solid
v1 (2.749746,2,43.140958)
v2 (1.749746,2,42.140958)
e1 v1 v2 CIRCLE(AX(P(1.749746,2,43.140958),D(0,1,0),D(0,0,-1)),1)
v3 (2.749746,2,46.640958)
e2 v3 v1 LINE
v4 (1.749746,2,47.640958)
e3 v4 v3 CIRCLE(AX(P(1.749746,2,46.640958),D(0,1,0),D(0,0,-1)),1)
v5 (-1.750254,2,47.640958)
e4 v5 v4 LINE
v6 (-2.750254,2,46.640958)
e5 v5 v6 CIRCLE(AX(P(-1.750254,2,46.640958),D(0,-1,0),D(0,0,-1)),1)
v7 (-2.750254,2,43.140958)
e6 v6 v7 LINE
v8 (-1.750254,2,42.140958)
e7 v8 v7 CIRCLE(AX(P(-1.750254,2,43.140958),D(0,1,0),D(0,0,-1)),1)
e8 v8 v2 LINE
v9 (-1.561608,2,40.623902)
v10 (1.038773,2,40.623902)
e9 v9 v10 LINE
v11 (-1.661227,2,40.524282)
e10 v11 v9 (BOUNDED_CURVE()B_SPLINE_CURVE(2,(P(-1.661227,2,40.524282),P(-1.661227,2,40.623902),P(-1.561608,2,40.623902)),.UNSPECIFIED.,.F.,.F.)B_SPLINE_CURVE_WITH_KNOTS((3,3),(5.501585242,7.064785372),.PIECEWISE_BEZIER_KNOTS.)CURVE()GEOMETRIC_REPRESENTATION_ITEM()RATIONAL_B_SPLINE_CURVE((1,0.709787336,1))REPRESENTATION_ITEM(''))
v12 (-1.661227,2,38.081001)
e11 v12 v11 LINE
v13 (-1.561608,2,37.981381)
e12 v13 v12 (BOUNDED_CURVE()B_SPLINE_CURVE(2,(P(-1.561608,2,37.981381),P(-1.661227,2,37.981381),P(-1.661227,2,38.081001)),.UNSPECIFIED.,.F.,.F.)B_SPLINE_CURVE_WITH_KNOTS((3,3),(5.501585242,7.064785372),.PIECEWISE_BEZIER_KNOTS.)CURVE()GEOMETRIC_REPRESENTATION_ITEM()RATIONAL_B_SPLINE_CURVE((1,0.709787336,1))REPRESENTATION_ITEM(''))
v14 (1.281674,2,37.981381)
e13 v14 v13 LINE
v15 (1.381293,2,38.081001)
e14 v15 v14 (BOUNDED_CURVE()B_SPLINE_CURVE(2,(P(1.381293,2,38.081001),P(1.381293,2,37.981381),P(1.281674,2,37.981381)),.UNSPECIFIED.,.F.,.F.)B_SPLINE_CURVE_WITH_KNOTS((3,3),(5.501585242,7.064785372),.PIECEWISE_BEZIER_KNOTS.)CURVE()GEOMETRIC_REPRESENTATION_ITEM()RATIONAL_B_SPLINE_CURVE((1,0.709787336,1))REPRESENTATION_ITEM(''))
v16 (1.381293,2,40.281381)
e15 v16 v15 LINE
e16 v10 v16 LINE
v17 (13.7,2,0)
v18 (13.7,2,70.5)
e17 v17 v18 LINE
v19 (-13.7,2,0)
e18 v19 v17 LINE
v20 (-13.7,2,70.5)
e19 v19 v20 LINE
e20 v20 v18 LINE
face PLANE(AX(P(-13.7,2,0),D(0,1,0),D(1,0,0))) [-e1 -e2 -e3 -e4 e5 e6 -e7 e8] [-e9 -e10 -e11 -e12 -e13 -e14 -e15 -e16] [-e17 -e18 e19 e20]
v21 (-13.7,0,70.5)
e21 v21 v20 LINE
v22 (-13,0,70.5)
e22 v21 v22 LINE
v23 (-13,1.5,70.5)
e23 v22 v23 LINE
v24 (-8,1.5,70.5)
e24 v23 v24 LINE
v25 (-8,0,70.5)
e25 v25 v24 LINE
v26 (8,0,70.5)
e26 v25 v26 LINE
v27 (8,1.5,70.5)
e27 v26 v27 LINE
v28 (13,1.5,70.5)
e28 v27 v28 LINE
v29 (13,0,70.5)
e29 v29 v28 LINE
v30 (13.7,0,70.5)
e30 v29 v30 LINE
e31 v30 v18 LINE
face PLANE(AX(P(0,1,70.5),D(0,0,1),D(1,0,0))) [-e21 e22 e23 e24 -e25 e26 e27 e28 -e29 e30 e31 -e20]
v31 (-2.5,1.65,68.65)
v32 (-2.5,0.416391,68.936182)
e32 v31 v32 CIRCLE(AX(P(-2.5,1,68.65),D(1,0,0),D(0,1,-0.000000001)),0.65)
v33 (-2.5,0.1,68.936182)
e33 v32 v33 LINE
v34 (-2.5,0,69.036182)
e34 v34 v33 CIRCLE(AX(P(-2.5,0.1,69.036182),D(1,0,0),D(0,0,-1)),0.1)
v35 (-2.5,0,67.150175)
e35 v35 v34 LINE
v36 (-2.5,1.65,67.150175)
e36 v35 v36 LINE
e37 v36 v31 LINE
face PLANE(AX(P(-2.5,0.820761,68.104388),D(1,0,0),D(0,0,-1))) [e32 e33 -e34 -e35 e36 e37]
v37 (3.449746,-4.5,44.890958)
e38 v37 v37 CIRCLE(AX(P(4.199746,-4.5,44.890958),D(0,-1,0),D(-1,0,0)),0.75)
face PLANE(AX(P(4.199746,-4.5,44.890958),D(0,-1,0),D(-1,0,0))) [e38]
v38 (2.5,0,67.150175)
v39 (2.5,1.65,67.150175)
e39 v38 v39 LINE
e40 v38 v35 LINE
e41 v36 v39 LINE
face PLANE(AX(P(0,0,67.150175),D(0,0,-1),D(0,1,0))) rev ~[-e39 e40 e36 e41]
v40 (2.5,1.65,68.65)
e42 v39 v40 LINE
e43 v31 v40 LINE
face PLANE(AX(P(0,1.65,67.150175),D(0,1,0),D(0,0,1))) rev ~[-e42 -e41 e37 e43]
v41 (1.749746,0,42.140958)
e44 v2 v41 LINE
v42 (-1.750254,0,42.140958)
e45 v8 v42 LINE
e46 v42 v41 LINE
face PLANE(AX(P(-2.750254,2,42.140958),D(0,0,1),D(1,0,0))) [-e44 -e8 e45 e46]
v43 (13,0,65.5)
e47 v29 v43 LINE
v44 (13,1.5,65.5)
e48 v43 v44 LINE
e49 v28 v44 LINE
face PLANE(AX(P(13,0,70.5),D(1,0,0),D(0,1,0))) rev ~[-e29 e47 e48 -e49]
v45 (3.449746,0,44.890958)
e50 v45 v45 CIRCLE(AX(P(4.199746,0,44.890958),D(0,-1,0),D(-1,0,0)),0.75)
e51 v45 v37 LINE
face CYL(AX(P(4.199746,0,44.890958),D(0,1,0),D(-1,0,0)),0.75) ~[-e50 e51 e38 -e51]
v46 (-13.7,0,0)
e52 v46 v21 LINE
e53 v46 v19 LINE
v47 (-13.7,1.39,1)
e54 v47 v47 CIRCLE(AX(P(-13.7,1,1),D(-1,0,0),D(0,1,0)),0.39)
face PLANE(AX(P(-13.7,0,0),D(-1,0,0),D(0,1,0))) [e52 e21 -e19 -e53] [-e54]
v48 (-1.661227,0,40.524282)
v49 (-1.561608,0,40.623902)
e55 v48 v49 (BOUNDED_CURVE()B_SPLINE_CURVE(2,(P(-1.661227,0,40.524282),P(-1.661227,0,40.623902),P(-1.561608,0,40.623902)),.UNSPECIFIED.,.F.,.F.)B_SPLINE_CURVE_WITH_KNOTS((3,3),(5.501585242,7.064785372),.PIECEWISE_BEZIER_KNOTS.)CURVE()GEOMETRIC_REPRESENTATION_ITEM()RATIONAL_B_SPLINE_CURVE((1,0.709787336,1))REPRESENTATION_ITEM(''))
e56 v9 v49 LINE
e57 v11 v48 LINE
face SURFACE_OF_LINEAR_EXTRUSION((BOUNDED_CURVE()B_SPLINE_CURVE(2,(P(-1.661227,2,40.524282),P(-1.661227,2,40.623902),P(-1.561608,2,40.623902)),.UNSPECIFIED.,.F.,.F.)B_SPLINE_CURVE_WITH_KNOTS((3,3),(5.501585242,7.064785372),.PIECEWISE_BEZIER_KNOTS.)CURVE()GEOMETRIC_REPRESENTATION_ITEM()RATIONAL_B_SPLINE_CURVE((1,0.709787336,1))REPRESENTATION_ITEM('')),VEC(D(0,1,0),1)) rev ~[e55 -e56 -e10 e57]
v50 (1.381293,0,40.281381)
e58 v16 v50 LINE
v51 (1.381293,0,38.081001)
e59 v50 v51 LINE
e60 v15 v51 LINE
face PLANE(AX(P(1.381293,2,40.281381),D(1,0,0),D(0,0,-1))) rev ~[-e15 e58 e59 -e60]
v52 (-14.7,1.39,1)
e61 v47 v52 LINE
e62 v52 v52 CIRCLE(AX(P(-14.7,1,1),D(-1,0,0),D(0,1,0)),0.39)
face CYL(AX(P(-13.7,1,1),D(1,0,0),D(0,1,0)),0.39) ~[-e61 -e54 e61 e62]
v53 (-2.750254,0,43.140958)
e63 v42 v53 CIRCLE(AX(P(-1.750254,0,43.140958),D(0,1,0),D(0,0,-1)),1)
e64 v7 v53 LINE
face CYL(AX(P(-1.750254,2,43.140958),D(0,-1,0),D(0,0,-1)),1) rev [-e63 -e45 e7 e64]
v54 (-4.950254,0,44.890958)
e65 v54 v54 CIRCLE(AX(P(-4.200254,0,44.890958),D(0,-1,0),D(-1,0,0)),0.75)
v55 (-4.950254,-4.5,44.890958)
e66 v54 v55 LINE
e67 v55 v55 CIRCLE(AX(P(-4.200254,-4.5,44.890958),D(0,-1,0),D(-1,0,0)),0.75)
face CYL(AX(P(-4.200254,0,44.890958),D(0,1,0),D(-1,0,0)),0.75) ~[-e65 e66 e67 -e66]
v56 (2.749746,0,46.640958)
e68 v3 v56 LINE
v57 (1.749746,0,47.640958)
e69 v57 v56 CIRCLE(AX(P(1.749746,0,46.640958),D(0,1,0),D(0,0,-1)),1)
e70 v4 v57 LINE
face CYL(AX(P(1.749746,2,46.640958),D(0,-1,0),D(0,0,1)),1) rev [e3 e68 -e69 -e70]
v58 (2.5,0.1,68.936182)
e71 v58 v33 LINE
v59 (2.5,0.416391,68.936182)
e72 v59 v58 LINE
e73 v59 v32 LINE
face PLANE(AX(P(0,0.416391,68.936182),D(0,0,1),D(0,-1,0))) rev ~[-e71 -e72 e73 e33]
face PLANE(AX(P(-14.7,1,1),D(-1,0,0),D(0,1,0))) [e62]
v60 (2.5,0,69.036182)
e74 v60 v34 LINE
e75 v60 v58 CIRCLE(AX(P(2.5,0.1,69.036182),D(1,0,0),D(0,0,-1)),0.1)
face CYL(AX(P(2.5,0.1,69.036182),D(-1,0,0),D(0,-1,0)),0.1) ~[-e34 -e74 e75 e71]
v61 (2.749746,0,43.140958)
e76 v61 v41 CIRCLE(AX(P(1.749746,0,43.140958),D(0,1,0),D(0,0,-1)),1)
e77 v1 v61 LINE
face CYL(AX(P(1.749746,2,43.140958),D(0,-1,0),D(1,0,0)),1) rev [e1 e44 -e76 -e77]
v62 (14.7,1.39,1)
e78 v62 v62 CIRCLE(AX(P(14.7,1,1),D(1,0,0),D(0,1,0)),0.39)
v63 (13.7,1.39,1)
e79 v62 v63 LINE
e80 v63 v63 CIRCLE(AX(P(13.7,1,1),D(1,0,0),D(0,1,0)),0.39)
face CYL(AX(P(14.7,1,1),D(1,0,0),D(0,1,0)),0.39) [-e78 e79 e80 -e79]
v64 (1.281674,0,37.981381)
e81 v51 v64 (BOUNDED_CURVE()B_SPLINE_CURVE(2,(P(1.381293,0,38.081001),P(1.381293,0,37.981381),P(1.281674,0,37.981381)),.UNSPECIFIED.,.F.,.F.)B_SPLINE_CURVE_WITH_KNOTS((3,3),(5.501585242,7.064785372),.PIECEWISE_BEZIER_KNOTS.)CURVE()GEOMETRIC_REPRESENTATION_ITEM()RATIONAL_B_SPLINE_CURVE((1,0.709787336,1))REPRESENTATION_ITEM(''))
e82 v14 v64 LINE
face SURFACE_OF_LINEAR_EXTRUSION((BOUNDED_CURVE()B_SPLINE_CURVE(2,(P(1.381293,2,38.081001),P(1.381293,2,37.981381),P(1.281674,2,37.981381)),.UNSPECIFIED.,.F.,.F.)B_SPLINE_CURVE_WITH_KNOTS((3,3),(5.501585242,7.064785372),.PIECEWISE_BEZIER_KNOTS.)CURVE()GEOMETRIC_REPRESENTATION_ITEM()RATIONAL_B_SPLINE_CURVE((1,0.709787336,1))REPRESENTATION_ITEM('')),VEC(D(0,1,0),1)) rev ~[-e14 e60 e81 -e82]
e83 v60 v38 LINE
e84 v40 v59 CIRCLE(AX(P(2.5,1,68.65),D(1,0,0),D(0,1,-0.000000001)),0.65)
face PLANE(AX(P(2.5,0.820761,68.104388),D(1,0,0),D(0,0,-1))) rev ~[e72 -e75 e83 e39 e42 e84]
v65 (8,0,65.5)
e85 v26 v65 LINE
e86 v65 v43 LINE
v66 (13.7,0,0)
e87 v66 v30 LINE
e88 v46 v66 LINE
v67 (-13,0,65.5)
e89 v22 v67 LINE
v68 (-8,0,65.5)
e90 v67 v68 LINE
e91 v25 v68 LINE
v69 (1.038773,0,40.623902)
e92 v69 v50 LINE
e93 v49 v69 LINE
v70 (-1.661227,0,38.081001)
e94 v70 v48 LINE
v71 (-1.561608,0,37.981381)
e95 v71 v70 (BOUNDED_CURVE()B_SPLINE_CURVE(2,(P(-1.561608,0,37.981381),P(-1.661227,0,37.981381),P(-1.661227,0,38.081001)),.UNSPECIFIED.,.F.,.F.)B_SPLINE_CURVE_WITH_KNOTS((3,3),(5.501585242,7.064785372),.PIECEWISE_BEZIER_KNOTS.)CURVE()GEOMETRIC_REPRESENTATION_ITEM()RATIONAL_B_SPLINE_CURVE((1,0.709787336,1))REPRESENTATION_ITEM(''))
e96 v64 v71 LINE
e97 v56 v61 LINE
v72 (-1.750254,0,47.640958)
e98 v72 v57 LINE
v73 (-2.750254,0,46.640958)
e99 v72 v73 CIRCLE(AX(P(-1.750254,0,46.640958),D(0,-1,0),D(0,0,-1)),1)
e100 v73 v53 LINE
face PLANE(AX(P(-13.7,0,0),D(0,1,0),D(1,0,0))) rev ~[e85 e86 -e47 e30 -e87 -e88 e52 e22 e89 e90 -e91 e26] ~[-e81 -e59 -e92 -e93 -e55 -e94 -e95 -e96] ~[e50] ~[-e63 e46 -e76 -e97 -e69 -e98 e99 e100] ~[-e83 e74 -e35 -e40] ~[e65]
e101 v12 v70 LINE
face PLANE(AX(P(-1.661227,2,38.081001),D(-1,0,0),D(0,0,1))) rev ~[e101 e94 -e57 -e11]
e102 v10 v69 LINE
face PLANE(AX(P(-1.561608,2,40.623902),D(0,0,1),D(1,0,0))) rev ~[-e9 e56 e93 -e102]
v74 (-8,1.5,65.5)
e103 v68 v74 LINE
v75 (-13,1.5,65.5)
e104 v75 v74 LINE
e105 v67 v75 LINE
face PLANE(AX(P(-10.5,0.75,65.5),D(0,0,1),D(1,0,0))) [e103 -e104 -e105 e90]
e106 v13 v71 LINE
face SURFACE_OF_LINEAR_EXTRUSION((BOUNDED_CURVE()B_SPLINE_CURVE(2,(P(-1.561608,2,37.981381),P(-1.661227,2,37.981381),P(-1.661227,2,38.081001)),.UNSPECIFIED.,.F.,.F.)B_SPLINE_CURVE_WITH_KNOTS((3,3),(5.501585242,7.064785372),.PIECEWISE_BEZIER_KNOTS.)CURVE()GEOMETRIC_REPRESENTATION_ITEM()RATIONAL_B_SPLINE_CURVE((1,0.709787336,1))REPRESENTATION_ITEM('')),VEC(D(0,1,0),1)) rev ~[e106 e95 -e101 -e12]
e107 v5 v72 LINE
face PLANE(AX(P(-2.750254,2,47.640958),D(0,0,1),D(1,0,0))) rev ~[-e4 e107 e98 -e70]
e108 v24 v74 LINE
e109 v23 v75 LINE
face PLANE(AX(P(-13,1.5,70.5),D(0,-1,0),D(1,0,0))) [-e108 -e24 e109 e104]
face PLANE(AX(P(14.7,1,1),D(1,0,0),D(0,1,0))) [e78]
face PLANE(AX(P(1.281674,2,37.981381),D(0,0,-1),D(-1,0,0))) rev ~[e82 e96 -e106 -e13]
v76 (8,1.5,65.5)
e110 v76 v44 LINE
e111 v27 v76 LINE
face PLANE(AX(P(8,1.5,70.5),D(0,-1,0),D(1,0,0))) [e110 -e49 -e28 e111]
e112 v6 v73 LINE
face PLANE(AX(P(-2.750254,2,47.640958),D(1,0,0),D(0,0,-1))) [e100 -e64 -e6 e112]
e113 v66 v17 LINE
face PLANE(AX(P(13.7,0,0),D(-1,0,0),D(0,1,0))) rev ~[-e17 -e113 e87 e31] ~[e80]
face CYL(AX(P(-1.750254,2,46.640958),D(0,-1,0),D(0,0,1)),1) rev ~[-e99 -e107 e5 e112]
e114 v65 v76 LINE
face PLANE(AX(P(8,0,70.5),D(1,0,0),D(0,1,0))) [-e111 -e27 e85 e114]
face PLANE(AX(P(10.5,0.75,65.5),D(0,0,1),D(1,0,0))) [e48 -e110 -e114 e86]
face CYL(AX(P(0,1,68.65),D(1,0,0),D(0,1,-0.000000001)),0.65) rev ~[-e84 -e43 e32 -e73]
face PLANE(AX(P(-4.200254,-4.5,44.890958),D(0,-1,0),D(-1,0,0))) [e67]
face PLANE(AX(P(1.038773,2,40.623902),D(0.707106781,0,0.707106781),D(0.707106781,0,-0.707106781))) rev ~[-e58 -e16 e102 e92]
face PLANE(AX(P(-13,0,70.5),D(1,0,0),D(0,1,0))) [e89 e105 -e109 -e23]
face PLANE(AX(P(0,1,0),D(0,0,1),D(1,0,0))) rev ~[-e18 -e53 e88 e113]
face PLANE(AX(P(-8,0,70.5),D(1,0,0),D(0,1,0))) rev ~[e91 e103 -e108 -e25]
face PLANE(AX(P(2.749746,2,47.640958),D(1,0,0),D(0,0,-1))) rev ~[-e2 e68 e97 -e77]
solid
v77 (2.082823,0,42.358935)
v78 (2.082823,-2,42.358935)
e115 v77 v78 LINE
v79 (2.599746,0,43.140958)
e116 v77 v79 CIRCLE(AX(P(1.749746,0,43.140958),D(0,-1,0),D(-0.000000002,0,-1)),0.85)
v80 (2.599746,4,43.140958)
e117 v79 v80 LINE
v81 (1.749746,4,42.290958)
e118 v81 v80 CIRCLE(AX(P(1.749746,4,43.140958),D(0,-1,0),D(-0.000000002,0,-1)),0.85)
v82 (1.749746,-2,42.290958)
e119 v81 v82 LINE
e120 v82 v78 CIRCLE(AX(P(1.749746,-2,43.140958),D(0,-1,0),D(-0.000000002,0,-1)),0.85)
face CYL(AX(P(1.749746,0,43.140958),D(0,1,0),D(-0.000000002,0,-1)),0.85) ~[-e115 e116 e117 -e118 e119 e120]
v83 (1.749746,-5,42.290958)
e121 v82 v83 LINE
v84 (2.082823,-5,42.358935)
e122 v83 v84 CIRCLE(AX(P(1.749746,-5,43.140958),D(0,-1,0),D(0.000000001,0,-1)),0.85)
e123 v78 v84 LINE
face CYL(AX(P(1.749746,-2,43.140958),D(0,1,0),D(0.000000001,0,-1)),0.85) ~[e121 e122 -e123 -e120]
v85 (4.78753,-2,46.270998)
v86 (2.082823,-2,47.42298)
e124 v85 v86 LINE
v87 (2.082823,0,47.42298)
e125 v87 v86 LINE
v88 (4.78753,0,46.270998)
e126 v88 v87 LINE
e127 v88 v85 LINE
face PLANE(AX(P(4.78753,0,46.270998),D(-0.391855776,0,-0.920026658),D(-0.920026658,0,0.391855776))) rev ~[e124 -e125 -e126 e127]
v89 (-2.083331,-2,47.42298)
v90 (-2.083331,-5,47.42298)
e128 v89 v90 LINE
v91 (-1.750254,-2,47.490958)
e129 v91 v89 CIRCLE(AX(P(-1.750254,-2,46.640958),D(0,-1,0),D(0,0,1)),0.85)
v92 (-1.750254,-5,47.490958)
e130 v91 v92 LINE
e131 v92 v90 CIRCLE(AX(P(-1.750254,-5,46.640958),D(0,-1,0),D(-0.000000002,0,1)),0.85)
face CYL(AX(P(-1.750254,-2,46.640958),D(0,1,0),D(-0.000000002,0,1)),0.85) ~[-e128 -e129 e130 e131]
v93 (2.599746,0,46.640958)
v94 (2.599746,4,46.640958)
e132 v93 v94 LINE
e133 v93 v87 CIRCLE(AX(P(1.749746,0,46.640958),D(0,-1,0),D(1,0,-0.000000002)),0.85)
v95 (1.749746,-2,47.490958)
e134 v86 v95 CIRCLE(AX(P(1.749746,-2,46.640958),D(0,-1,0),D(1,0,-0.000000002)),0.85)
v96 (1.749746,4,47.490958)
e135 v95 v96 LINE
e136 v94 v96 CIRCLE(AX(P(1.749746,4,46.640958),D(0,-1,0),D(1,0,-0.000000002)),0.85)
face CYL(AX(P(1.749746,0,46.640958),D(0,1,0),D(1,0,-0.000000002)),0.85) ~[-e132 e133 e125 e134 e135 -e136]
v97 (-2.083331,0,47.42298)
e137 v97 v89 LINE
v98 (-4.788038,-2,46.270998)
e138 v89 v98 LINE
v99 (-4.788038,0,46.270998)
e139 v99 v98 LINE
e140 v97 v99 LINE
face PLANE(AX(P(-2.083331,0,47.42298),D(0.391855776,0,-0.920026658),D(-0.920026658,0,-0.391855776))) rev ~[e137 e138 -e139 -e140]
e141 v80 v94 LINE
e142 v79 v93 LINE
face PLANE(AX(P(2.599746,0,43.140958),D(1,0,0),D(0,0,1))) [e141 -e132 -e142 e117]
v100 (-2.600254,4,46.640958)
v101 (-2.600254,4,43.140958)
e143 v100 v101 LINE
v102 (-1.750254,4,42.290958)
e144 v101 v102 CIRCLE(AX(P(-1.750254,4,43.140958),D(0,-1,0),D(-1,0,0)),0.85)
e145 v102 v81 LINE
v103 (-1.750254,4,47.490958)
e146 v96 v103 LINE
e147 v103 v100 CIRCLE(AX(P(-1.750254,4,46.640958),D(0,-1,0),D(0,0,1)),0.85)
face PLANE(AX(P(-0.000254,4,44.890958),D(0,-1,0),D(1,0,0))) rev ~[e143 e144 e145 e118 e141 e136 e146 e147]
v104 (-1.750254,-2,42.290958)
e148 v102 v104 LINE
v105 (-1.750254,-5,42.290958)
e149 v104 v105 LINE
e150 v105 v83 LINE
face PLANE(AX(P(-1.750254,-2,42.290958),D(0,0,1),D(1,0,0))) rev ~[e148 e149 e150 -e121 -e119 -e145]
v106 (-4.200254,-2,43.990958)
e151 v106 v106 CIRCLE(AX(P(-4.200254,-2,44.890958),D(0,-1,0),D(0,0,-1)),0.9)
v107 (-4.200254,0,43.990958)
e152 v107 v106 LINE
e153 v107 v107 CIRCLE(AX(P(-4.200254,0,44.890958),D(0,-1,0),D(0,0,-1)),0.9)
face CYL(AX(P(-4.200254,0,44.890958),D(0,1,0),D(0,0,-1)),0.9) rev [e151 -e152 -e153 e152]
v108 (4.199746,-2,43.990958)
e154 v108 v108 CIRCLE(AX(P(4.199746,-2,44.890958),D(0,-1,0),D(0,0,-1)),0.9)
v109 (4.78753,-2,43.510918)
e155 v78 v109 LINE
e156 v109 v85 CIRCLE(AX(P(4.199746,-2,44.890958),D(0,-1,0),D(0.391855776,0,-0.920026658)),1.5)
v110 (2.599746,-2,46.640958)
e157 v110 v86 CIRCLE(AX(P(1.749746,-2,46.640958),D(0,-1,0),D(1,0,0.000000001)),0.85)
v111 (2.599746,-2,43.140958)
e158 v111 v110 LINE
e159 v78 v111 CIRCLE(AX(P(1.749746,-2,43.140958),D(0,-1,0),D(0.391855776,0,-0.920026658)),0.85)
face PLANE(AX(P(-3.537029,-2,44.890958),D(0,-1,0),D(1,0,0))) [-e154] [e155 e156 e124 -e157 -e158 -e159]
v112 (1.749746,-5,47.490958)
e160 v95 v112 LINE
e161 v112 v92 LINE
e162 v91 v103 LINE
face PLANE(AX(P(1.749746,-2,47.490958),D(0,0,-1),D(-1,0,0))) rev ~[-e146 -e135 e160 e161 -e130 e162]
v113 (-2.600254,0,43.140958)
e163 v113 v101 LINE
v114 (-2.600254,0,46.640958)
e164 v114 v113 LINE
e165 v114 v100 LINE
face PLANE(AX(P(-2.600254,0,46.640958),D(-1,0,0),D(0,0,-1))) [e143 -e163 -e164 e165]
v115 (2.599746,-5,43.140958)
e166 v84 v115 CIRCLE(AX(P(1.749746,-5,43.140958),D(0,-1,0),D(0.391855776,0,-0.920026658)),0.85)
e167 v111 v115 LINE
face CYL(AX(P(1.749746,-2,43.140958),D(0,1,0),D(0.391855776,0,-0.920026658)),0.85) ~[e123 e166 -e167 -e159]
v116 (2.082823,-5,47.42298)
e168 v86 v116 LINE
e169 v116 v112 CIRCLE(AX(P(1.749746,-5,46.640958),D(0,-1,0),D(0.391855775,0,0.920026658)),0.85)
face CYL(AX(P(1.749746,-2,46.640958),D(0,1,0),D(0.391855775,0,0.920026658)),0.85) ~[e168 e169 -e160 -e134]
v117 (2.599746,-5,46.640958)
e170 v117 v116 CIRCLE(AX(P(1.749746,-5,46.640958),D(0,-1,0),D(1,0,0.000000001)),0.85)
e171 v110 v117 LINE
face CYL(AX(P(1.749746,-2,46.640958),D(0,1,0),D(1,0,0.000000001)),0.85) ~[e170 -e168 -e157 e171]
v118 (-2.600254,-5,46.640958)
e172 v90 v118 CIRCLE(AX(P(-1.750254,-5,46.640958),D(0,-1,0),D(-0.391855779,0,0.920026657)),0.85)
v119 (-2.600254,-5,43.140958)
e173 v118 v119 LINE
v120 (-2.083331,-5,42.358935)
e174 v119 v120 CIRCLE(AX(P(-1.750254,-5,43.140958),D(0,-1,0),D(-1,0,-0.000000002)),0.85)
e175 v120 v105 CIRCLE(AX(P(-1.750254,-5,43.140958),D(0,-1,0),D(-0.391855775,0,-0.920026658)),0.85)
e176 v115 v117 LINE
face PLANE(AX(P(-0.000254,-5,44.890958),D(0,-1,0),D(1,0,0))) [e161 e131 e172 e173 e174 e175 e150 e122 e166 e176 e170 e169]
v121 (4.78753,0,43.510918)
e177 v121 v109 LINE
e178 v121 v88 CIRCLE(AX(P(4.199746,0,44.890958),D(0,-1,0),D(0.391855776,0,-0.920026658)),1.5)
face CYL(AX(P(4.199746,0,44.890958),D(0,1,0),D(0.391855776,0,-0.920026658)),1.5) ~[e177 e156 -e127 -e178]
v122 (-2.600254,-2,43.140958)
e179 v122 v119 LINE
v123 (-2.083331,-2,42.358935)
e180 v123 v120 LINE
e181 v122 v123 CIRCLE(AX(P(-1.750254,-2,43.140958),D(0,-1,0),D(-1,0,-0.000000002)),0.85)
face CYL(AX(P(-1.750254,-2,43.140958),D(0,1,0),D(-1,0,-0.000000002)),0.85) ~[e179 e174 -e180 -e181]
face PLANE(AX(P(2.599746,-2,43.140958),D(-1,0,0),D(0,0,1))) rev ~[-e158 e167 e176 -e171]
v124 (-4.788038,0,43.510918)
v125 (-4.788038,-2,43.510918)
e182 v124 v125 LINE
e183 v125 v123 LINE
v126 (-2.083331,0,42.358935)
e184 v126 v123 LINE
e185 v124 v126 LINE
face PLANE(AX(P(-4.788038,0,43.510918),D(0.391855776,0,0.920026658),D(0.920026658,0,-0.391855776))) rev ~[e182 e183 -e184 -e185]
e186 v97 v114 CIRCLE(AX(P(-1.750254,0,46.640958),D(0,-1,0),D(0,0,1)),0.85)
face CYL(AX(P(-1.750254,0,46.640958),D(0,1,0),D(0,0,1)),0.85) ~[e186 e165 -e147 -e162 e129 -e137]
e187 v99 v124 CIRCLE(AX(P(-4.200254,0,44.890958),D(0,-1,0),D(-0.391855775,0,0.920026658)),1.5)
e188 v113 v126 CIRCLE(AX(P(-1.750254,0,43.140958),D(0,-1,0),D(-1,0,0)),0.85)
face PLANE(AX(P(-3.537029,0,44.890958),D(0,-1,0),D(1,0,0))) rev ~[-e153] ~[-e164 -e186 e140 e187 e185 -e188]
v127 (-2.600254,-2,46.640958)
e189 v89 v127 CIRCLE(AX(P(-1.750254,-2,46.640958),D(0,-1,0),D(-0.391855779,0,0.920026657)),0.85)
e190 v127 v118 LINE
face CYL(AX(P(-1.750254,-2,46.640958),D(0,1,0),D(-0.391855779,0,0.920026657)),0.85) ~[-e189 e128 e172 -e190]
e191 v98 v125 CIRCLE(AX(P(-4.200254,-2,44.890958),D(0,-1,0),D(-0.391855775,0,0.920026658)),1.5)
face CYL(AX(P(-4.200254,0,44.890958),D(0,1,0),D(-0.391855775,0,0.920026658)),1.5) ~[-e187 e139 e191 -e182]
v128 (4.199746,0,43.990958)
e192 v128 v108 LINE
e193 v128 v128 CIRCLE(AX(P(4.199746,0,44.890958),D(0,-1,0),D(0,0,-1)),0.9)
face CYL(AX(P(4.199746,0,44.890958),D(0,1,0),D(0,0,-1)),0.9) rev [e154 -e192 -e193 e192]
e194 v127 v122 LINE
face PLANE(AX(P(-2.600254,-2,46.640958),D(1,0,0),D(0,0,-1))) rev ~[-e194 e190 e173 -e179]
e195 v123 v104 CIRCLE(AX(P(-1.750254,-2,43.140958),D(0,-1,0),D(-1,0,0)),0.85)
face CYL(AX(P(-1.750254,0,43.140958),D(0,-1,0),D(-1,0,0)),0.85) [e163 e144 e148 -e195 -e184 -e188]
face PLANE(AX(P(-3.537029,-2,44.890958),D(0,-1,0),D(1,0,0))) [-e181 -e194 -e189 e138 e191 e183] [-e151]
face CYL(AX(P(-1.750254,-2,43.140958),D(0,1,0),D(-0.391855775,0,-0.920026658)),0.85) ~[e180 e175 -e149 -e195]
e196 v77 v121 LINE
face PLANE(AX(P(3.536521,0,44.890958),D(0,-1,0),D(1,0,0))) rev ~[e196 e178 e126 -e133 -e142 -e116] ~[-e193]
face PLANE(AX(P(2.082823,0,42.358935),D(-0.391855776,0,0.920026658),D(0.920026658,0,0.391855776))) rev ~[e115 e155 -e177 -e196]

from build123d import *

# Parameters (mm, degrees)
SKETCH_1_W          = 27.4
SKETCH_1_H          = 2
EXTRUDE_1_DEPTH     = 70.5
CUT_EXTRUDE_5_DEPTH = 2.5
FILLET_4_R          = 0.1
SKETCH_14_R         = 0.39
EXTRUDE_7_DEPTH     = 1
EXTRUDE_START       = 1
SKETCH_15_R         = 0.39
EXTRUDE_8_DEPTH     = 1
SKETCH_16_W         = 5
SKETCH_16_H         = 1.5
CUT_EXTRUDE_6_DEPTH = 5
SKETCH_4_W          = 5.5
SKETCH_4_H          = 5.5
CUT_EXTRUDE_2_DEPTH = 73.044014325
FILLET_1_R          = 1
EXTRUDE_3_DEPTH     = 4
SKETCH_6_R          = 0.9
EXTRUDE_4_DEPTH     = 2
SKETCH_7_R          = 0.75
EXTRUDE_5_DEPTH     = 4.5
EXTRUDE_START_2     = 2
EXTRUDE_6_DEPTH     = 3
CUT_EXTRUDE_7_DEPTH = 2


with BuildPart() as part:
    # 草图1 → 凸台-拉伸1 (new body)
    with BuildSketch(Plane.XY):
        with Locations((0, 1)):
            Rectangle(SKETCH_1_W, SKETCH_1_H)
    extrude(amount=EXTRUDE_1_DEPTH)

    # 草图13 → 切除-拉伸5 (cut, symmetric)
    with BuildSketch(Plane(origin=(0, 0, 0), x_dir=(0, 0, -1), z_dir=(1, 0, 0))):
        with BuildLine():
            Line((-68.5, 0), (-67.150174859, 0))
            Line((-67.150174859, 0), (-67.150174859, 1.65))
            Line((-67.150174859, 1.65), (-68.65, 1.65))
            ThreePointArc((-68.65, 1.65), (-69.283184792, 1.146891183), (-68.936182348, 0.41639083))
            Line((-68.936182348, 0.41639083), (-68.936182348, 0))
            Line((-68.936182348, 0), (-68.5, 0))
        make_face()
    extrude(amount=CUT_EXTRUDE_5_DEPTH, both=True, mode=Mode.SUBTRACT)

    # 圆角4
    fillet_4_edges = [part.edges().sort_by_distance(p)[0] for p in [
        (0, 0, 68.936182348),
    ]]
    fillet(fillet_4_edges, radius=FILLET_4_R)

    # 草图14 → 凸台-拉伸7 (add)
    with BuildSketch(Plane.ZY.offset(13.7)):
        with Locations(Location((1, 1, 0), (0, 0, 90))):
            Circle(SKETCH_14_R)
    extrude(amount=EXTRUDE_7_DEPTH)

    # 草图15 → 凸台-拉伸8 (add)
    with BuildSketch(Plane(origin=(13.7, 0, 0), x_dir=(0, 0, -1), z_dir=(1, 0, 0)).offset(EXTRUDE_START)):
        with Locations(Location((-1, 1, 0), (0, 0, 90))):
            Circle(SKETCH_15_R)
    extrude(amount=-EXTRUDE_8_DEPTH)

    # 草图16 → 切除-拉伸6 (cut)
    with BuildSketch(Plane.XY.offset(70.5)):
        with Locations((-10.5, 0.75)):
            Rectangle(SKETCH_16_W, SKETCH_16_H)
        with Locations((10.5, 0.75)):
            Rectangle(SKETCH_16_W, SKETCH_16_H)
    extrude(amount=-CUT_EXTRUDE_6_DEPTH, mode=Mode.SUBTRACT)

    # 草图4 → 切除-拉伸2 (cut, through all)
    with BuildSketch(Plane(origin=(0, 2, 0), x_dir=(1, 0, 0), z_dir=(0, 1, 0))):
        with Locations((-0.000254001, -44.890957582)):
            Rectangle(SKETCH_4_W, SKETCH_4_H)
    extrude(amount=-CUT_EXTRUDE_2_DEPTH, mode=Mode.SUBTRACT)

    # 圆角1
    fillet_1_edges = [part.edges().sort_by_distance(p)[0] for p in [
        (2.749745999, 1, 42.140957582),
        (2.749745999, 1, 47.640957582),
        (-2.750254001, 1, 47.640957582),
        (-2.750254001, 1, 42.140957582),
    ]]
    fillet(fillet_1_edges, radius=FILLET_1_R)

    # 草图7 → 凸台-拉伸5 (add)
    with BuildSketch(Plane.XZ):
        with Locations(Location((4.199745999, 44.890957582, 0), (0, 0, 180))):
            Circle(SKETCH_7_R)
        with Locations(Location((-4.200254001, 44.890957582, 0), (0, 0, 180))):
            Circle(SKETCH_7_R)
    extrude(amount=EXTRUDE_5_DEPTH)

    # 草图17 → 切除-拉伸7 (cut)
    with BuildSketch(Plane(origin=(0, 2, 0), x_dir=(1, 0, 0), z_dir=(0, 1, 0))):
        with BuildLine():
            Line((1.381293223, -40.281381402), (1.381293223, -38.081000872))
            add(Edge.make_bspline(
                [(1.381293223, -38.081000872), (1.381293223, -37.981381402), (1.281673753, -37.981381402)],
                knots=[5.501585242, 5.501585242, 5.501585242, 7.064785372, 7.064785372, 7.064785372], degree=2, weights=[1, 0.709787336, 1]))
            Line((1.281673753, -37.981381402), (-1.561607713, -37.981381402))
            add(Edge.make_bspline(
                [(-1.561607713, -37.981381402), (-1.661227183, -37.981381402), (-1.661227183, -38.081000872)],
                knots=[5.501585242, 5.501585242, 5.501585242, 7.064785372, 7.064785372, 7.064785372], degree=2, weights=[1, 0.709787336, 1]))
            Line((-1.661227183, -38.081000872), (-1.661227183, -40.524282338))
            add(Edge.make_bspline(
                [(-1.661227183, -40.524282338), (-1.661227183, -40.623901808), (-1.561607713, -40.623901808)],
                knots=[5.501585242, 5.501585242, 5.501585242, 7.064785372, 7.064785372, 7.064785372], degree=2, weights=[1, 0.709787336, 1]))
            Line((-1.561607713, -40.623901808), (1.038772817, -40.623901808))
            Line((1.038772817, -40.623901808), (1.381293223, -40.281381402))
        make_face()
    extrude(amount=-CUT_EXTRUDE_7_DEPTH, mode=Mode.SUBTRACT)


with BuildPart() as body_2:
    # 草图5 → 凸台-拉伸3 (new body)
    with BuildSketch(Plane.XZ):
        with BuildLine():
            Line((-2.600254001, 46.640957582), (-2.600254001, 43.140957582))
            ThreePointArc((-2.600254001, 43.140957582), (-2.351294765, 42.539916818), (-1.750254001, 42.290957582))
            Line((-1.750254001, 42.290957582), (1.749745999, 42.290957582))
            ThreePointArc((1.749745999, 42.290957582), (2.350786764, 42.539916818), (2.599745999, 43.140957582))
            Line((2.599745999, 43.140957582), (2.599745999, 46.640957582))
            ThreePointArc((2.599745999, 46.640957582), (2.350786764, 47.241998346), (1.749745999, 47.490957582))
            Line((1.749745999, 47.490957582), (-1.750254001, 47.490957582))
            ThreePointArc((-1.750254001, 47.490957582), (-2.351294765, 47.241998346), (-2.600254001, 46.640957582))
        make_face()
    extrude(amount=-EXTRUDE_3_DEPTH)

    # 草图6 → 凸台-拉伸4 (add)
    # profile 1 of 3: a face of its own
    with BuildSketch(Plane.XZ):
        with BuildLine():
            ThreePointArc((-2.600254001, 46.640957582), (-2.459343486, 47.109670821), (-2.08333141, 47.422980241))
            Line((-2.08333141, 47.422980241), (-4.788037664, 46.270997568))
            ThreePointArc((-4.788037664, 46.270997568), (-5.700254001, 44.890957582), (-4.788037664, 43.510917595))
            Line((-4.788037664, 43.510917595), (-2.08333141, 42.358934923))
            ThreePointArc((-2.08333141, 42.358934923), (-2.459343486, 42.672244342), (-2.600254001, 43.140957582))
            Line((-2.600254001, 43.140957582), (-2.600254001, 46.640957582))
        make_face()
        with Locations(Location((-4.200254001, 44.890957582, 0), (0, 0, 270))):
            Circle(SKETCH_6_R, mode=Mode.SUBTRACT)
    # profile 2 of 3: a face of its own
    with BuildSketch(Plane.XZ):
        with BuildLine():
            Line((1.749745999, 47.490957582), (-1.750254001, 47.490957582))
            ThreePointArc((-1.750254001, 47.490957582), (-2.351294765, 47.241998346), (-2.600254001, 46.640957582))
            Line((-2.600254001, 46.640957582), (-2.600254001, 43.140957582))
            ThreePointArc((-2.600254001, 43.140957582), (-2.351294765, 42.539916818), (-1.750254001, 42.290957582))
            Line((-1.750254001, 42.290957582), (1.749745999, 42.290957582))
            ThreePointArc((1.749745999, 42.290957582), (2.350786764, 42.539916818), (2.599745999, 43.140957582))
            Line((2.599745999, 43.140957582), (2.599745999, 46.640957582))
            ThreePointArc((2.599745999, 46.640957582), (2.350786764, 47.241998346), (1.749745999, 47.490957582))
        make_face()
    # profile 3 of 3: a face of its own
    with BuildSketch(Plane.XZ):
        with BuildLine():
            Line((4.787529663, 46.270997568), (2.082823409, 47.422980241))
            ThreePointArc((2.082823409, 47.422980241), (2.458835485, 47.109670821), (2.599745999, 46.640957582))
            Line((2.599745999, 46.640957582), (2.599745999, 43.140957582))
            ThreePointArc((2.599745999, 43.140957582), (2.458835485, 42.672244342), (2.082823409, 42.358934923))
            Line((2.082823409, 42.358934923), (4.787529663, 43.510917595))
            ThreePointArc((4.787529663, 43.510917595), (5.699745999, 44.890957582), (4.787529663, 46.270997568))
        make_face()
        with Locations(Location((4.199745999, 44.890957582, 0), (0, 0, 270))):
            Circle(SKETCH_6_R, mode=Mode.SUBTRACT)
    extrude(amount=EXTRUDE_4_DEPTH)

    # 草图6<3> → 凸台-拉伸6 (add)
    with BuildSketch(Plane.XZ.offset(EXTRUDE_START_2)):
        with BuildLine():
            ThreePointArc((-1.750254001, 47.490957582), (-1.920225674, 47.473789876), (-2.08333141, 47.422980241))
            ThreePointArc((-2.08333141, 47.422980241), (-2.459343486, 47.109670821), (-2.600254001, 46.640957582))
            Line((-2.600254001, 46.640957582), (-2.600254001, 43.140957582))
            ThreePointArc((-2.600254001, 43.140957582), (-2.459343486, 42.672244342), (-2.08333141, 42.358934923))
            ThreePointArc((-2.08333141, 42.358934923), (-1.920225674, 42.308125288), (-1.750254001, 42.290957582))
            Line((-1.750254001, 42.290957582), (1.749745999, 42.290957582))
            ThreePointArc((1.749745999, 42.290957582), (1.919717673, 42.308125288), (2.082823409, 42.358934923))
            ThreePointArc((2.082823409, 42.358934923), (2.458835485, 42.672244342), (2.599745999, 43.140957582))
            Line((2.599745999, 43.140957582), (2.599745999, 46.640957582))
            ThreePointArc((2.599745999, 46.640957582), (2.458835485, 47.109670821), (2.082823409, 47.422980241))
            ThreePointArc((2.082823409, 47.422980241), (1.919717673, 47.473789876), (1.749745999, 47.490957582))
            Line((1.749745999, 47.490957582), (-1.750254001, 47.490957582))
        make_face()
    extrude(amount=EXTRUDE_6_DEPTH)


solid = Compound([part.part, body_2.part])
